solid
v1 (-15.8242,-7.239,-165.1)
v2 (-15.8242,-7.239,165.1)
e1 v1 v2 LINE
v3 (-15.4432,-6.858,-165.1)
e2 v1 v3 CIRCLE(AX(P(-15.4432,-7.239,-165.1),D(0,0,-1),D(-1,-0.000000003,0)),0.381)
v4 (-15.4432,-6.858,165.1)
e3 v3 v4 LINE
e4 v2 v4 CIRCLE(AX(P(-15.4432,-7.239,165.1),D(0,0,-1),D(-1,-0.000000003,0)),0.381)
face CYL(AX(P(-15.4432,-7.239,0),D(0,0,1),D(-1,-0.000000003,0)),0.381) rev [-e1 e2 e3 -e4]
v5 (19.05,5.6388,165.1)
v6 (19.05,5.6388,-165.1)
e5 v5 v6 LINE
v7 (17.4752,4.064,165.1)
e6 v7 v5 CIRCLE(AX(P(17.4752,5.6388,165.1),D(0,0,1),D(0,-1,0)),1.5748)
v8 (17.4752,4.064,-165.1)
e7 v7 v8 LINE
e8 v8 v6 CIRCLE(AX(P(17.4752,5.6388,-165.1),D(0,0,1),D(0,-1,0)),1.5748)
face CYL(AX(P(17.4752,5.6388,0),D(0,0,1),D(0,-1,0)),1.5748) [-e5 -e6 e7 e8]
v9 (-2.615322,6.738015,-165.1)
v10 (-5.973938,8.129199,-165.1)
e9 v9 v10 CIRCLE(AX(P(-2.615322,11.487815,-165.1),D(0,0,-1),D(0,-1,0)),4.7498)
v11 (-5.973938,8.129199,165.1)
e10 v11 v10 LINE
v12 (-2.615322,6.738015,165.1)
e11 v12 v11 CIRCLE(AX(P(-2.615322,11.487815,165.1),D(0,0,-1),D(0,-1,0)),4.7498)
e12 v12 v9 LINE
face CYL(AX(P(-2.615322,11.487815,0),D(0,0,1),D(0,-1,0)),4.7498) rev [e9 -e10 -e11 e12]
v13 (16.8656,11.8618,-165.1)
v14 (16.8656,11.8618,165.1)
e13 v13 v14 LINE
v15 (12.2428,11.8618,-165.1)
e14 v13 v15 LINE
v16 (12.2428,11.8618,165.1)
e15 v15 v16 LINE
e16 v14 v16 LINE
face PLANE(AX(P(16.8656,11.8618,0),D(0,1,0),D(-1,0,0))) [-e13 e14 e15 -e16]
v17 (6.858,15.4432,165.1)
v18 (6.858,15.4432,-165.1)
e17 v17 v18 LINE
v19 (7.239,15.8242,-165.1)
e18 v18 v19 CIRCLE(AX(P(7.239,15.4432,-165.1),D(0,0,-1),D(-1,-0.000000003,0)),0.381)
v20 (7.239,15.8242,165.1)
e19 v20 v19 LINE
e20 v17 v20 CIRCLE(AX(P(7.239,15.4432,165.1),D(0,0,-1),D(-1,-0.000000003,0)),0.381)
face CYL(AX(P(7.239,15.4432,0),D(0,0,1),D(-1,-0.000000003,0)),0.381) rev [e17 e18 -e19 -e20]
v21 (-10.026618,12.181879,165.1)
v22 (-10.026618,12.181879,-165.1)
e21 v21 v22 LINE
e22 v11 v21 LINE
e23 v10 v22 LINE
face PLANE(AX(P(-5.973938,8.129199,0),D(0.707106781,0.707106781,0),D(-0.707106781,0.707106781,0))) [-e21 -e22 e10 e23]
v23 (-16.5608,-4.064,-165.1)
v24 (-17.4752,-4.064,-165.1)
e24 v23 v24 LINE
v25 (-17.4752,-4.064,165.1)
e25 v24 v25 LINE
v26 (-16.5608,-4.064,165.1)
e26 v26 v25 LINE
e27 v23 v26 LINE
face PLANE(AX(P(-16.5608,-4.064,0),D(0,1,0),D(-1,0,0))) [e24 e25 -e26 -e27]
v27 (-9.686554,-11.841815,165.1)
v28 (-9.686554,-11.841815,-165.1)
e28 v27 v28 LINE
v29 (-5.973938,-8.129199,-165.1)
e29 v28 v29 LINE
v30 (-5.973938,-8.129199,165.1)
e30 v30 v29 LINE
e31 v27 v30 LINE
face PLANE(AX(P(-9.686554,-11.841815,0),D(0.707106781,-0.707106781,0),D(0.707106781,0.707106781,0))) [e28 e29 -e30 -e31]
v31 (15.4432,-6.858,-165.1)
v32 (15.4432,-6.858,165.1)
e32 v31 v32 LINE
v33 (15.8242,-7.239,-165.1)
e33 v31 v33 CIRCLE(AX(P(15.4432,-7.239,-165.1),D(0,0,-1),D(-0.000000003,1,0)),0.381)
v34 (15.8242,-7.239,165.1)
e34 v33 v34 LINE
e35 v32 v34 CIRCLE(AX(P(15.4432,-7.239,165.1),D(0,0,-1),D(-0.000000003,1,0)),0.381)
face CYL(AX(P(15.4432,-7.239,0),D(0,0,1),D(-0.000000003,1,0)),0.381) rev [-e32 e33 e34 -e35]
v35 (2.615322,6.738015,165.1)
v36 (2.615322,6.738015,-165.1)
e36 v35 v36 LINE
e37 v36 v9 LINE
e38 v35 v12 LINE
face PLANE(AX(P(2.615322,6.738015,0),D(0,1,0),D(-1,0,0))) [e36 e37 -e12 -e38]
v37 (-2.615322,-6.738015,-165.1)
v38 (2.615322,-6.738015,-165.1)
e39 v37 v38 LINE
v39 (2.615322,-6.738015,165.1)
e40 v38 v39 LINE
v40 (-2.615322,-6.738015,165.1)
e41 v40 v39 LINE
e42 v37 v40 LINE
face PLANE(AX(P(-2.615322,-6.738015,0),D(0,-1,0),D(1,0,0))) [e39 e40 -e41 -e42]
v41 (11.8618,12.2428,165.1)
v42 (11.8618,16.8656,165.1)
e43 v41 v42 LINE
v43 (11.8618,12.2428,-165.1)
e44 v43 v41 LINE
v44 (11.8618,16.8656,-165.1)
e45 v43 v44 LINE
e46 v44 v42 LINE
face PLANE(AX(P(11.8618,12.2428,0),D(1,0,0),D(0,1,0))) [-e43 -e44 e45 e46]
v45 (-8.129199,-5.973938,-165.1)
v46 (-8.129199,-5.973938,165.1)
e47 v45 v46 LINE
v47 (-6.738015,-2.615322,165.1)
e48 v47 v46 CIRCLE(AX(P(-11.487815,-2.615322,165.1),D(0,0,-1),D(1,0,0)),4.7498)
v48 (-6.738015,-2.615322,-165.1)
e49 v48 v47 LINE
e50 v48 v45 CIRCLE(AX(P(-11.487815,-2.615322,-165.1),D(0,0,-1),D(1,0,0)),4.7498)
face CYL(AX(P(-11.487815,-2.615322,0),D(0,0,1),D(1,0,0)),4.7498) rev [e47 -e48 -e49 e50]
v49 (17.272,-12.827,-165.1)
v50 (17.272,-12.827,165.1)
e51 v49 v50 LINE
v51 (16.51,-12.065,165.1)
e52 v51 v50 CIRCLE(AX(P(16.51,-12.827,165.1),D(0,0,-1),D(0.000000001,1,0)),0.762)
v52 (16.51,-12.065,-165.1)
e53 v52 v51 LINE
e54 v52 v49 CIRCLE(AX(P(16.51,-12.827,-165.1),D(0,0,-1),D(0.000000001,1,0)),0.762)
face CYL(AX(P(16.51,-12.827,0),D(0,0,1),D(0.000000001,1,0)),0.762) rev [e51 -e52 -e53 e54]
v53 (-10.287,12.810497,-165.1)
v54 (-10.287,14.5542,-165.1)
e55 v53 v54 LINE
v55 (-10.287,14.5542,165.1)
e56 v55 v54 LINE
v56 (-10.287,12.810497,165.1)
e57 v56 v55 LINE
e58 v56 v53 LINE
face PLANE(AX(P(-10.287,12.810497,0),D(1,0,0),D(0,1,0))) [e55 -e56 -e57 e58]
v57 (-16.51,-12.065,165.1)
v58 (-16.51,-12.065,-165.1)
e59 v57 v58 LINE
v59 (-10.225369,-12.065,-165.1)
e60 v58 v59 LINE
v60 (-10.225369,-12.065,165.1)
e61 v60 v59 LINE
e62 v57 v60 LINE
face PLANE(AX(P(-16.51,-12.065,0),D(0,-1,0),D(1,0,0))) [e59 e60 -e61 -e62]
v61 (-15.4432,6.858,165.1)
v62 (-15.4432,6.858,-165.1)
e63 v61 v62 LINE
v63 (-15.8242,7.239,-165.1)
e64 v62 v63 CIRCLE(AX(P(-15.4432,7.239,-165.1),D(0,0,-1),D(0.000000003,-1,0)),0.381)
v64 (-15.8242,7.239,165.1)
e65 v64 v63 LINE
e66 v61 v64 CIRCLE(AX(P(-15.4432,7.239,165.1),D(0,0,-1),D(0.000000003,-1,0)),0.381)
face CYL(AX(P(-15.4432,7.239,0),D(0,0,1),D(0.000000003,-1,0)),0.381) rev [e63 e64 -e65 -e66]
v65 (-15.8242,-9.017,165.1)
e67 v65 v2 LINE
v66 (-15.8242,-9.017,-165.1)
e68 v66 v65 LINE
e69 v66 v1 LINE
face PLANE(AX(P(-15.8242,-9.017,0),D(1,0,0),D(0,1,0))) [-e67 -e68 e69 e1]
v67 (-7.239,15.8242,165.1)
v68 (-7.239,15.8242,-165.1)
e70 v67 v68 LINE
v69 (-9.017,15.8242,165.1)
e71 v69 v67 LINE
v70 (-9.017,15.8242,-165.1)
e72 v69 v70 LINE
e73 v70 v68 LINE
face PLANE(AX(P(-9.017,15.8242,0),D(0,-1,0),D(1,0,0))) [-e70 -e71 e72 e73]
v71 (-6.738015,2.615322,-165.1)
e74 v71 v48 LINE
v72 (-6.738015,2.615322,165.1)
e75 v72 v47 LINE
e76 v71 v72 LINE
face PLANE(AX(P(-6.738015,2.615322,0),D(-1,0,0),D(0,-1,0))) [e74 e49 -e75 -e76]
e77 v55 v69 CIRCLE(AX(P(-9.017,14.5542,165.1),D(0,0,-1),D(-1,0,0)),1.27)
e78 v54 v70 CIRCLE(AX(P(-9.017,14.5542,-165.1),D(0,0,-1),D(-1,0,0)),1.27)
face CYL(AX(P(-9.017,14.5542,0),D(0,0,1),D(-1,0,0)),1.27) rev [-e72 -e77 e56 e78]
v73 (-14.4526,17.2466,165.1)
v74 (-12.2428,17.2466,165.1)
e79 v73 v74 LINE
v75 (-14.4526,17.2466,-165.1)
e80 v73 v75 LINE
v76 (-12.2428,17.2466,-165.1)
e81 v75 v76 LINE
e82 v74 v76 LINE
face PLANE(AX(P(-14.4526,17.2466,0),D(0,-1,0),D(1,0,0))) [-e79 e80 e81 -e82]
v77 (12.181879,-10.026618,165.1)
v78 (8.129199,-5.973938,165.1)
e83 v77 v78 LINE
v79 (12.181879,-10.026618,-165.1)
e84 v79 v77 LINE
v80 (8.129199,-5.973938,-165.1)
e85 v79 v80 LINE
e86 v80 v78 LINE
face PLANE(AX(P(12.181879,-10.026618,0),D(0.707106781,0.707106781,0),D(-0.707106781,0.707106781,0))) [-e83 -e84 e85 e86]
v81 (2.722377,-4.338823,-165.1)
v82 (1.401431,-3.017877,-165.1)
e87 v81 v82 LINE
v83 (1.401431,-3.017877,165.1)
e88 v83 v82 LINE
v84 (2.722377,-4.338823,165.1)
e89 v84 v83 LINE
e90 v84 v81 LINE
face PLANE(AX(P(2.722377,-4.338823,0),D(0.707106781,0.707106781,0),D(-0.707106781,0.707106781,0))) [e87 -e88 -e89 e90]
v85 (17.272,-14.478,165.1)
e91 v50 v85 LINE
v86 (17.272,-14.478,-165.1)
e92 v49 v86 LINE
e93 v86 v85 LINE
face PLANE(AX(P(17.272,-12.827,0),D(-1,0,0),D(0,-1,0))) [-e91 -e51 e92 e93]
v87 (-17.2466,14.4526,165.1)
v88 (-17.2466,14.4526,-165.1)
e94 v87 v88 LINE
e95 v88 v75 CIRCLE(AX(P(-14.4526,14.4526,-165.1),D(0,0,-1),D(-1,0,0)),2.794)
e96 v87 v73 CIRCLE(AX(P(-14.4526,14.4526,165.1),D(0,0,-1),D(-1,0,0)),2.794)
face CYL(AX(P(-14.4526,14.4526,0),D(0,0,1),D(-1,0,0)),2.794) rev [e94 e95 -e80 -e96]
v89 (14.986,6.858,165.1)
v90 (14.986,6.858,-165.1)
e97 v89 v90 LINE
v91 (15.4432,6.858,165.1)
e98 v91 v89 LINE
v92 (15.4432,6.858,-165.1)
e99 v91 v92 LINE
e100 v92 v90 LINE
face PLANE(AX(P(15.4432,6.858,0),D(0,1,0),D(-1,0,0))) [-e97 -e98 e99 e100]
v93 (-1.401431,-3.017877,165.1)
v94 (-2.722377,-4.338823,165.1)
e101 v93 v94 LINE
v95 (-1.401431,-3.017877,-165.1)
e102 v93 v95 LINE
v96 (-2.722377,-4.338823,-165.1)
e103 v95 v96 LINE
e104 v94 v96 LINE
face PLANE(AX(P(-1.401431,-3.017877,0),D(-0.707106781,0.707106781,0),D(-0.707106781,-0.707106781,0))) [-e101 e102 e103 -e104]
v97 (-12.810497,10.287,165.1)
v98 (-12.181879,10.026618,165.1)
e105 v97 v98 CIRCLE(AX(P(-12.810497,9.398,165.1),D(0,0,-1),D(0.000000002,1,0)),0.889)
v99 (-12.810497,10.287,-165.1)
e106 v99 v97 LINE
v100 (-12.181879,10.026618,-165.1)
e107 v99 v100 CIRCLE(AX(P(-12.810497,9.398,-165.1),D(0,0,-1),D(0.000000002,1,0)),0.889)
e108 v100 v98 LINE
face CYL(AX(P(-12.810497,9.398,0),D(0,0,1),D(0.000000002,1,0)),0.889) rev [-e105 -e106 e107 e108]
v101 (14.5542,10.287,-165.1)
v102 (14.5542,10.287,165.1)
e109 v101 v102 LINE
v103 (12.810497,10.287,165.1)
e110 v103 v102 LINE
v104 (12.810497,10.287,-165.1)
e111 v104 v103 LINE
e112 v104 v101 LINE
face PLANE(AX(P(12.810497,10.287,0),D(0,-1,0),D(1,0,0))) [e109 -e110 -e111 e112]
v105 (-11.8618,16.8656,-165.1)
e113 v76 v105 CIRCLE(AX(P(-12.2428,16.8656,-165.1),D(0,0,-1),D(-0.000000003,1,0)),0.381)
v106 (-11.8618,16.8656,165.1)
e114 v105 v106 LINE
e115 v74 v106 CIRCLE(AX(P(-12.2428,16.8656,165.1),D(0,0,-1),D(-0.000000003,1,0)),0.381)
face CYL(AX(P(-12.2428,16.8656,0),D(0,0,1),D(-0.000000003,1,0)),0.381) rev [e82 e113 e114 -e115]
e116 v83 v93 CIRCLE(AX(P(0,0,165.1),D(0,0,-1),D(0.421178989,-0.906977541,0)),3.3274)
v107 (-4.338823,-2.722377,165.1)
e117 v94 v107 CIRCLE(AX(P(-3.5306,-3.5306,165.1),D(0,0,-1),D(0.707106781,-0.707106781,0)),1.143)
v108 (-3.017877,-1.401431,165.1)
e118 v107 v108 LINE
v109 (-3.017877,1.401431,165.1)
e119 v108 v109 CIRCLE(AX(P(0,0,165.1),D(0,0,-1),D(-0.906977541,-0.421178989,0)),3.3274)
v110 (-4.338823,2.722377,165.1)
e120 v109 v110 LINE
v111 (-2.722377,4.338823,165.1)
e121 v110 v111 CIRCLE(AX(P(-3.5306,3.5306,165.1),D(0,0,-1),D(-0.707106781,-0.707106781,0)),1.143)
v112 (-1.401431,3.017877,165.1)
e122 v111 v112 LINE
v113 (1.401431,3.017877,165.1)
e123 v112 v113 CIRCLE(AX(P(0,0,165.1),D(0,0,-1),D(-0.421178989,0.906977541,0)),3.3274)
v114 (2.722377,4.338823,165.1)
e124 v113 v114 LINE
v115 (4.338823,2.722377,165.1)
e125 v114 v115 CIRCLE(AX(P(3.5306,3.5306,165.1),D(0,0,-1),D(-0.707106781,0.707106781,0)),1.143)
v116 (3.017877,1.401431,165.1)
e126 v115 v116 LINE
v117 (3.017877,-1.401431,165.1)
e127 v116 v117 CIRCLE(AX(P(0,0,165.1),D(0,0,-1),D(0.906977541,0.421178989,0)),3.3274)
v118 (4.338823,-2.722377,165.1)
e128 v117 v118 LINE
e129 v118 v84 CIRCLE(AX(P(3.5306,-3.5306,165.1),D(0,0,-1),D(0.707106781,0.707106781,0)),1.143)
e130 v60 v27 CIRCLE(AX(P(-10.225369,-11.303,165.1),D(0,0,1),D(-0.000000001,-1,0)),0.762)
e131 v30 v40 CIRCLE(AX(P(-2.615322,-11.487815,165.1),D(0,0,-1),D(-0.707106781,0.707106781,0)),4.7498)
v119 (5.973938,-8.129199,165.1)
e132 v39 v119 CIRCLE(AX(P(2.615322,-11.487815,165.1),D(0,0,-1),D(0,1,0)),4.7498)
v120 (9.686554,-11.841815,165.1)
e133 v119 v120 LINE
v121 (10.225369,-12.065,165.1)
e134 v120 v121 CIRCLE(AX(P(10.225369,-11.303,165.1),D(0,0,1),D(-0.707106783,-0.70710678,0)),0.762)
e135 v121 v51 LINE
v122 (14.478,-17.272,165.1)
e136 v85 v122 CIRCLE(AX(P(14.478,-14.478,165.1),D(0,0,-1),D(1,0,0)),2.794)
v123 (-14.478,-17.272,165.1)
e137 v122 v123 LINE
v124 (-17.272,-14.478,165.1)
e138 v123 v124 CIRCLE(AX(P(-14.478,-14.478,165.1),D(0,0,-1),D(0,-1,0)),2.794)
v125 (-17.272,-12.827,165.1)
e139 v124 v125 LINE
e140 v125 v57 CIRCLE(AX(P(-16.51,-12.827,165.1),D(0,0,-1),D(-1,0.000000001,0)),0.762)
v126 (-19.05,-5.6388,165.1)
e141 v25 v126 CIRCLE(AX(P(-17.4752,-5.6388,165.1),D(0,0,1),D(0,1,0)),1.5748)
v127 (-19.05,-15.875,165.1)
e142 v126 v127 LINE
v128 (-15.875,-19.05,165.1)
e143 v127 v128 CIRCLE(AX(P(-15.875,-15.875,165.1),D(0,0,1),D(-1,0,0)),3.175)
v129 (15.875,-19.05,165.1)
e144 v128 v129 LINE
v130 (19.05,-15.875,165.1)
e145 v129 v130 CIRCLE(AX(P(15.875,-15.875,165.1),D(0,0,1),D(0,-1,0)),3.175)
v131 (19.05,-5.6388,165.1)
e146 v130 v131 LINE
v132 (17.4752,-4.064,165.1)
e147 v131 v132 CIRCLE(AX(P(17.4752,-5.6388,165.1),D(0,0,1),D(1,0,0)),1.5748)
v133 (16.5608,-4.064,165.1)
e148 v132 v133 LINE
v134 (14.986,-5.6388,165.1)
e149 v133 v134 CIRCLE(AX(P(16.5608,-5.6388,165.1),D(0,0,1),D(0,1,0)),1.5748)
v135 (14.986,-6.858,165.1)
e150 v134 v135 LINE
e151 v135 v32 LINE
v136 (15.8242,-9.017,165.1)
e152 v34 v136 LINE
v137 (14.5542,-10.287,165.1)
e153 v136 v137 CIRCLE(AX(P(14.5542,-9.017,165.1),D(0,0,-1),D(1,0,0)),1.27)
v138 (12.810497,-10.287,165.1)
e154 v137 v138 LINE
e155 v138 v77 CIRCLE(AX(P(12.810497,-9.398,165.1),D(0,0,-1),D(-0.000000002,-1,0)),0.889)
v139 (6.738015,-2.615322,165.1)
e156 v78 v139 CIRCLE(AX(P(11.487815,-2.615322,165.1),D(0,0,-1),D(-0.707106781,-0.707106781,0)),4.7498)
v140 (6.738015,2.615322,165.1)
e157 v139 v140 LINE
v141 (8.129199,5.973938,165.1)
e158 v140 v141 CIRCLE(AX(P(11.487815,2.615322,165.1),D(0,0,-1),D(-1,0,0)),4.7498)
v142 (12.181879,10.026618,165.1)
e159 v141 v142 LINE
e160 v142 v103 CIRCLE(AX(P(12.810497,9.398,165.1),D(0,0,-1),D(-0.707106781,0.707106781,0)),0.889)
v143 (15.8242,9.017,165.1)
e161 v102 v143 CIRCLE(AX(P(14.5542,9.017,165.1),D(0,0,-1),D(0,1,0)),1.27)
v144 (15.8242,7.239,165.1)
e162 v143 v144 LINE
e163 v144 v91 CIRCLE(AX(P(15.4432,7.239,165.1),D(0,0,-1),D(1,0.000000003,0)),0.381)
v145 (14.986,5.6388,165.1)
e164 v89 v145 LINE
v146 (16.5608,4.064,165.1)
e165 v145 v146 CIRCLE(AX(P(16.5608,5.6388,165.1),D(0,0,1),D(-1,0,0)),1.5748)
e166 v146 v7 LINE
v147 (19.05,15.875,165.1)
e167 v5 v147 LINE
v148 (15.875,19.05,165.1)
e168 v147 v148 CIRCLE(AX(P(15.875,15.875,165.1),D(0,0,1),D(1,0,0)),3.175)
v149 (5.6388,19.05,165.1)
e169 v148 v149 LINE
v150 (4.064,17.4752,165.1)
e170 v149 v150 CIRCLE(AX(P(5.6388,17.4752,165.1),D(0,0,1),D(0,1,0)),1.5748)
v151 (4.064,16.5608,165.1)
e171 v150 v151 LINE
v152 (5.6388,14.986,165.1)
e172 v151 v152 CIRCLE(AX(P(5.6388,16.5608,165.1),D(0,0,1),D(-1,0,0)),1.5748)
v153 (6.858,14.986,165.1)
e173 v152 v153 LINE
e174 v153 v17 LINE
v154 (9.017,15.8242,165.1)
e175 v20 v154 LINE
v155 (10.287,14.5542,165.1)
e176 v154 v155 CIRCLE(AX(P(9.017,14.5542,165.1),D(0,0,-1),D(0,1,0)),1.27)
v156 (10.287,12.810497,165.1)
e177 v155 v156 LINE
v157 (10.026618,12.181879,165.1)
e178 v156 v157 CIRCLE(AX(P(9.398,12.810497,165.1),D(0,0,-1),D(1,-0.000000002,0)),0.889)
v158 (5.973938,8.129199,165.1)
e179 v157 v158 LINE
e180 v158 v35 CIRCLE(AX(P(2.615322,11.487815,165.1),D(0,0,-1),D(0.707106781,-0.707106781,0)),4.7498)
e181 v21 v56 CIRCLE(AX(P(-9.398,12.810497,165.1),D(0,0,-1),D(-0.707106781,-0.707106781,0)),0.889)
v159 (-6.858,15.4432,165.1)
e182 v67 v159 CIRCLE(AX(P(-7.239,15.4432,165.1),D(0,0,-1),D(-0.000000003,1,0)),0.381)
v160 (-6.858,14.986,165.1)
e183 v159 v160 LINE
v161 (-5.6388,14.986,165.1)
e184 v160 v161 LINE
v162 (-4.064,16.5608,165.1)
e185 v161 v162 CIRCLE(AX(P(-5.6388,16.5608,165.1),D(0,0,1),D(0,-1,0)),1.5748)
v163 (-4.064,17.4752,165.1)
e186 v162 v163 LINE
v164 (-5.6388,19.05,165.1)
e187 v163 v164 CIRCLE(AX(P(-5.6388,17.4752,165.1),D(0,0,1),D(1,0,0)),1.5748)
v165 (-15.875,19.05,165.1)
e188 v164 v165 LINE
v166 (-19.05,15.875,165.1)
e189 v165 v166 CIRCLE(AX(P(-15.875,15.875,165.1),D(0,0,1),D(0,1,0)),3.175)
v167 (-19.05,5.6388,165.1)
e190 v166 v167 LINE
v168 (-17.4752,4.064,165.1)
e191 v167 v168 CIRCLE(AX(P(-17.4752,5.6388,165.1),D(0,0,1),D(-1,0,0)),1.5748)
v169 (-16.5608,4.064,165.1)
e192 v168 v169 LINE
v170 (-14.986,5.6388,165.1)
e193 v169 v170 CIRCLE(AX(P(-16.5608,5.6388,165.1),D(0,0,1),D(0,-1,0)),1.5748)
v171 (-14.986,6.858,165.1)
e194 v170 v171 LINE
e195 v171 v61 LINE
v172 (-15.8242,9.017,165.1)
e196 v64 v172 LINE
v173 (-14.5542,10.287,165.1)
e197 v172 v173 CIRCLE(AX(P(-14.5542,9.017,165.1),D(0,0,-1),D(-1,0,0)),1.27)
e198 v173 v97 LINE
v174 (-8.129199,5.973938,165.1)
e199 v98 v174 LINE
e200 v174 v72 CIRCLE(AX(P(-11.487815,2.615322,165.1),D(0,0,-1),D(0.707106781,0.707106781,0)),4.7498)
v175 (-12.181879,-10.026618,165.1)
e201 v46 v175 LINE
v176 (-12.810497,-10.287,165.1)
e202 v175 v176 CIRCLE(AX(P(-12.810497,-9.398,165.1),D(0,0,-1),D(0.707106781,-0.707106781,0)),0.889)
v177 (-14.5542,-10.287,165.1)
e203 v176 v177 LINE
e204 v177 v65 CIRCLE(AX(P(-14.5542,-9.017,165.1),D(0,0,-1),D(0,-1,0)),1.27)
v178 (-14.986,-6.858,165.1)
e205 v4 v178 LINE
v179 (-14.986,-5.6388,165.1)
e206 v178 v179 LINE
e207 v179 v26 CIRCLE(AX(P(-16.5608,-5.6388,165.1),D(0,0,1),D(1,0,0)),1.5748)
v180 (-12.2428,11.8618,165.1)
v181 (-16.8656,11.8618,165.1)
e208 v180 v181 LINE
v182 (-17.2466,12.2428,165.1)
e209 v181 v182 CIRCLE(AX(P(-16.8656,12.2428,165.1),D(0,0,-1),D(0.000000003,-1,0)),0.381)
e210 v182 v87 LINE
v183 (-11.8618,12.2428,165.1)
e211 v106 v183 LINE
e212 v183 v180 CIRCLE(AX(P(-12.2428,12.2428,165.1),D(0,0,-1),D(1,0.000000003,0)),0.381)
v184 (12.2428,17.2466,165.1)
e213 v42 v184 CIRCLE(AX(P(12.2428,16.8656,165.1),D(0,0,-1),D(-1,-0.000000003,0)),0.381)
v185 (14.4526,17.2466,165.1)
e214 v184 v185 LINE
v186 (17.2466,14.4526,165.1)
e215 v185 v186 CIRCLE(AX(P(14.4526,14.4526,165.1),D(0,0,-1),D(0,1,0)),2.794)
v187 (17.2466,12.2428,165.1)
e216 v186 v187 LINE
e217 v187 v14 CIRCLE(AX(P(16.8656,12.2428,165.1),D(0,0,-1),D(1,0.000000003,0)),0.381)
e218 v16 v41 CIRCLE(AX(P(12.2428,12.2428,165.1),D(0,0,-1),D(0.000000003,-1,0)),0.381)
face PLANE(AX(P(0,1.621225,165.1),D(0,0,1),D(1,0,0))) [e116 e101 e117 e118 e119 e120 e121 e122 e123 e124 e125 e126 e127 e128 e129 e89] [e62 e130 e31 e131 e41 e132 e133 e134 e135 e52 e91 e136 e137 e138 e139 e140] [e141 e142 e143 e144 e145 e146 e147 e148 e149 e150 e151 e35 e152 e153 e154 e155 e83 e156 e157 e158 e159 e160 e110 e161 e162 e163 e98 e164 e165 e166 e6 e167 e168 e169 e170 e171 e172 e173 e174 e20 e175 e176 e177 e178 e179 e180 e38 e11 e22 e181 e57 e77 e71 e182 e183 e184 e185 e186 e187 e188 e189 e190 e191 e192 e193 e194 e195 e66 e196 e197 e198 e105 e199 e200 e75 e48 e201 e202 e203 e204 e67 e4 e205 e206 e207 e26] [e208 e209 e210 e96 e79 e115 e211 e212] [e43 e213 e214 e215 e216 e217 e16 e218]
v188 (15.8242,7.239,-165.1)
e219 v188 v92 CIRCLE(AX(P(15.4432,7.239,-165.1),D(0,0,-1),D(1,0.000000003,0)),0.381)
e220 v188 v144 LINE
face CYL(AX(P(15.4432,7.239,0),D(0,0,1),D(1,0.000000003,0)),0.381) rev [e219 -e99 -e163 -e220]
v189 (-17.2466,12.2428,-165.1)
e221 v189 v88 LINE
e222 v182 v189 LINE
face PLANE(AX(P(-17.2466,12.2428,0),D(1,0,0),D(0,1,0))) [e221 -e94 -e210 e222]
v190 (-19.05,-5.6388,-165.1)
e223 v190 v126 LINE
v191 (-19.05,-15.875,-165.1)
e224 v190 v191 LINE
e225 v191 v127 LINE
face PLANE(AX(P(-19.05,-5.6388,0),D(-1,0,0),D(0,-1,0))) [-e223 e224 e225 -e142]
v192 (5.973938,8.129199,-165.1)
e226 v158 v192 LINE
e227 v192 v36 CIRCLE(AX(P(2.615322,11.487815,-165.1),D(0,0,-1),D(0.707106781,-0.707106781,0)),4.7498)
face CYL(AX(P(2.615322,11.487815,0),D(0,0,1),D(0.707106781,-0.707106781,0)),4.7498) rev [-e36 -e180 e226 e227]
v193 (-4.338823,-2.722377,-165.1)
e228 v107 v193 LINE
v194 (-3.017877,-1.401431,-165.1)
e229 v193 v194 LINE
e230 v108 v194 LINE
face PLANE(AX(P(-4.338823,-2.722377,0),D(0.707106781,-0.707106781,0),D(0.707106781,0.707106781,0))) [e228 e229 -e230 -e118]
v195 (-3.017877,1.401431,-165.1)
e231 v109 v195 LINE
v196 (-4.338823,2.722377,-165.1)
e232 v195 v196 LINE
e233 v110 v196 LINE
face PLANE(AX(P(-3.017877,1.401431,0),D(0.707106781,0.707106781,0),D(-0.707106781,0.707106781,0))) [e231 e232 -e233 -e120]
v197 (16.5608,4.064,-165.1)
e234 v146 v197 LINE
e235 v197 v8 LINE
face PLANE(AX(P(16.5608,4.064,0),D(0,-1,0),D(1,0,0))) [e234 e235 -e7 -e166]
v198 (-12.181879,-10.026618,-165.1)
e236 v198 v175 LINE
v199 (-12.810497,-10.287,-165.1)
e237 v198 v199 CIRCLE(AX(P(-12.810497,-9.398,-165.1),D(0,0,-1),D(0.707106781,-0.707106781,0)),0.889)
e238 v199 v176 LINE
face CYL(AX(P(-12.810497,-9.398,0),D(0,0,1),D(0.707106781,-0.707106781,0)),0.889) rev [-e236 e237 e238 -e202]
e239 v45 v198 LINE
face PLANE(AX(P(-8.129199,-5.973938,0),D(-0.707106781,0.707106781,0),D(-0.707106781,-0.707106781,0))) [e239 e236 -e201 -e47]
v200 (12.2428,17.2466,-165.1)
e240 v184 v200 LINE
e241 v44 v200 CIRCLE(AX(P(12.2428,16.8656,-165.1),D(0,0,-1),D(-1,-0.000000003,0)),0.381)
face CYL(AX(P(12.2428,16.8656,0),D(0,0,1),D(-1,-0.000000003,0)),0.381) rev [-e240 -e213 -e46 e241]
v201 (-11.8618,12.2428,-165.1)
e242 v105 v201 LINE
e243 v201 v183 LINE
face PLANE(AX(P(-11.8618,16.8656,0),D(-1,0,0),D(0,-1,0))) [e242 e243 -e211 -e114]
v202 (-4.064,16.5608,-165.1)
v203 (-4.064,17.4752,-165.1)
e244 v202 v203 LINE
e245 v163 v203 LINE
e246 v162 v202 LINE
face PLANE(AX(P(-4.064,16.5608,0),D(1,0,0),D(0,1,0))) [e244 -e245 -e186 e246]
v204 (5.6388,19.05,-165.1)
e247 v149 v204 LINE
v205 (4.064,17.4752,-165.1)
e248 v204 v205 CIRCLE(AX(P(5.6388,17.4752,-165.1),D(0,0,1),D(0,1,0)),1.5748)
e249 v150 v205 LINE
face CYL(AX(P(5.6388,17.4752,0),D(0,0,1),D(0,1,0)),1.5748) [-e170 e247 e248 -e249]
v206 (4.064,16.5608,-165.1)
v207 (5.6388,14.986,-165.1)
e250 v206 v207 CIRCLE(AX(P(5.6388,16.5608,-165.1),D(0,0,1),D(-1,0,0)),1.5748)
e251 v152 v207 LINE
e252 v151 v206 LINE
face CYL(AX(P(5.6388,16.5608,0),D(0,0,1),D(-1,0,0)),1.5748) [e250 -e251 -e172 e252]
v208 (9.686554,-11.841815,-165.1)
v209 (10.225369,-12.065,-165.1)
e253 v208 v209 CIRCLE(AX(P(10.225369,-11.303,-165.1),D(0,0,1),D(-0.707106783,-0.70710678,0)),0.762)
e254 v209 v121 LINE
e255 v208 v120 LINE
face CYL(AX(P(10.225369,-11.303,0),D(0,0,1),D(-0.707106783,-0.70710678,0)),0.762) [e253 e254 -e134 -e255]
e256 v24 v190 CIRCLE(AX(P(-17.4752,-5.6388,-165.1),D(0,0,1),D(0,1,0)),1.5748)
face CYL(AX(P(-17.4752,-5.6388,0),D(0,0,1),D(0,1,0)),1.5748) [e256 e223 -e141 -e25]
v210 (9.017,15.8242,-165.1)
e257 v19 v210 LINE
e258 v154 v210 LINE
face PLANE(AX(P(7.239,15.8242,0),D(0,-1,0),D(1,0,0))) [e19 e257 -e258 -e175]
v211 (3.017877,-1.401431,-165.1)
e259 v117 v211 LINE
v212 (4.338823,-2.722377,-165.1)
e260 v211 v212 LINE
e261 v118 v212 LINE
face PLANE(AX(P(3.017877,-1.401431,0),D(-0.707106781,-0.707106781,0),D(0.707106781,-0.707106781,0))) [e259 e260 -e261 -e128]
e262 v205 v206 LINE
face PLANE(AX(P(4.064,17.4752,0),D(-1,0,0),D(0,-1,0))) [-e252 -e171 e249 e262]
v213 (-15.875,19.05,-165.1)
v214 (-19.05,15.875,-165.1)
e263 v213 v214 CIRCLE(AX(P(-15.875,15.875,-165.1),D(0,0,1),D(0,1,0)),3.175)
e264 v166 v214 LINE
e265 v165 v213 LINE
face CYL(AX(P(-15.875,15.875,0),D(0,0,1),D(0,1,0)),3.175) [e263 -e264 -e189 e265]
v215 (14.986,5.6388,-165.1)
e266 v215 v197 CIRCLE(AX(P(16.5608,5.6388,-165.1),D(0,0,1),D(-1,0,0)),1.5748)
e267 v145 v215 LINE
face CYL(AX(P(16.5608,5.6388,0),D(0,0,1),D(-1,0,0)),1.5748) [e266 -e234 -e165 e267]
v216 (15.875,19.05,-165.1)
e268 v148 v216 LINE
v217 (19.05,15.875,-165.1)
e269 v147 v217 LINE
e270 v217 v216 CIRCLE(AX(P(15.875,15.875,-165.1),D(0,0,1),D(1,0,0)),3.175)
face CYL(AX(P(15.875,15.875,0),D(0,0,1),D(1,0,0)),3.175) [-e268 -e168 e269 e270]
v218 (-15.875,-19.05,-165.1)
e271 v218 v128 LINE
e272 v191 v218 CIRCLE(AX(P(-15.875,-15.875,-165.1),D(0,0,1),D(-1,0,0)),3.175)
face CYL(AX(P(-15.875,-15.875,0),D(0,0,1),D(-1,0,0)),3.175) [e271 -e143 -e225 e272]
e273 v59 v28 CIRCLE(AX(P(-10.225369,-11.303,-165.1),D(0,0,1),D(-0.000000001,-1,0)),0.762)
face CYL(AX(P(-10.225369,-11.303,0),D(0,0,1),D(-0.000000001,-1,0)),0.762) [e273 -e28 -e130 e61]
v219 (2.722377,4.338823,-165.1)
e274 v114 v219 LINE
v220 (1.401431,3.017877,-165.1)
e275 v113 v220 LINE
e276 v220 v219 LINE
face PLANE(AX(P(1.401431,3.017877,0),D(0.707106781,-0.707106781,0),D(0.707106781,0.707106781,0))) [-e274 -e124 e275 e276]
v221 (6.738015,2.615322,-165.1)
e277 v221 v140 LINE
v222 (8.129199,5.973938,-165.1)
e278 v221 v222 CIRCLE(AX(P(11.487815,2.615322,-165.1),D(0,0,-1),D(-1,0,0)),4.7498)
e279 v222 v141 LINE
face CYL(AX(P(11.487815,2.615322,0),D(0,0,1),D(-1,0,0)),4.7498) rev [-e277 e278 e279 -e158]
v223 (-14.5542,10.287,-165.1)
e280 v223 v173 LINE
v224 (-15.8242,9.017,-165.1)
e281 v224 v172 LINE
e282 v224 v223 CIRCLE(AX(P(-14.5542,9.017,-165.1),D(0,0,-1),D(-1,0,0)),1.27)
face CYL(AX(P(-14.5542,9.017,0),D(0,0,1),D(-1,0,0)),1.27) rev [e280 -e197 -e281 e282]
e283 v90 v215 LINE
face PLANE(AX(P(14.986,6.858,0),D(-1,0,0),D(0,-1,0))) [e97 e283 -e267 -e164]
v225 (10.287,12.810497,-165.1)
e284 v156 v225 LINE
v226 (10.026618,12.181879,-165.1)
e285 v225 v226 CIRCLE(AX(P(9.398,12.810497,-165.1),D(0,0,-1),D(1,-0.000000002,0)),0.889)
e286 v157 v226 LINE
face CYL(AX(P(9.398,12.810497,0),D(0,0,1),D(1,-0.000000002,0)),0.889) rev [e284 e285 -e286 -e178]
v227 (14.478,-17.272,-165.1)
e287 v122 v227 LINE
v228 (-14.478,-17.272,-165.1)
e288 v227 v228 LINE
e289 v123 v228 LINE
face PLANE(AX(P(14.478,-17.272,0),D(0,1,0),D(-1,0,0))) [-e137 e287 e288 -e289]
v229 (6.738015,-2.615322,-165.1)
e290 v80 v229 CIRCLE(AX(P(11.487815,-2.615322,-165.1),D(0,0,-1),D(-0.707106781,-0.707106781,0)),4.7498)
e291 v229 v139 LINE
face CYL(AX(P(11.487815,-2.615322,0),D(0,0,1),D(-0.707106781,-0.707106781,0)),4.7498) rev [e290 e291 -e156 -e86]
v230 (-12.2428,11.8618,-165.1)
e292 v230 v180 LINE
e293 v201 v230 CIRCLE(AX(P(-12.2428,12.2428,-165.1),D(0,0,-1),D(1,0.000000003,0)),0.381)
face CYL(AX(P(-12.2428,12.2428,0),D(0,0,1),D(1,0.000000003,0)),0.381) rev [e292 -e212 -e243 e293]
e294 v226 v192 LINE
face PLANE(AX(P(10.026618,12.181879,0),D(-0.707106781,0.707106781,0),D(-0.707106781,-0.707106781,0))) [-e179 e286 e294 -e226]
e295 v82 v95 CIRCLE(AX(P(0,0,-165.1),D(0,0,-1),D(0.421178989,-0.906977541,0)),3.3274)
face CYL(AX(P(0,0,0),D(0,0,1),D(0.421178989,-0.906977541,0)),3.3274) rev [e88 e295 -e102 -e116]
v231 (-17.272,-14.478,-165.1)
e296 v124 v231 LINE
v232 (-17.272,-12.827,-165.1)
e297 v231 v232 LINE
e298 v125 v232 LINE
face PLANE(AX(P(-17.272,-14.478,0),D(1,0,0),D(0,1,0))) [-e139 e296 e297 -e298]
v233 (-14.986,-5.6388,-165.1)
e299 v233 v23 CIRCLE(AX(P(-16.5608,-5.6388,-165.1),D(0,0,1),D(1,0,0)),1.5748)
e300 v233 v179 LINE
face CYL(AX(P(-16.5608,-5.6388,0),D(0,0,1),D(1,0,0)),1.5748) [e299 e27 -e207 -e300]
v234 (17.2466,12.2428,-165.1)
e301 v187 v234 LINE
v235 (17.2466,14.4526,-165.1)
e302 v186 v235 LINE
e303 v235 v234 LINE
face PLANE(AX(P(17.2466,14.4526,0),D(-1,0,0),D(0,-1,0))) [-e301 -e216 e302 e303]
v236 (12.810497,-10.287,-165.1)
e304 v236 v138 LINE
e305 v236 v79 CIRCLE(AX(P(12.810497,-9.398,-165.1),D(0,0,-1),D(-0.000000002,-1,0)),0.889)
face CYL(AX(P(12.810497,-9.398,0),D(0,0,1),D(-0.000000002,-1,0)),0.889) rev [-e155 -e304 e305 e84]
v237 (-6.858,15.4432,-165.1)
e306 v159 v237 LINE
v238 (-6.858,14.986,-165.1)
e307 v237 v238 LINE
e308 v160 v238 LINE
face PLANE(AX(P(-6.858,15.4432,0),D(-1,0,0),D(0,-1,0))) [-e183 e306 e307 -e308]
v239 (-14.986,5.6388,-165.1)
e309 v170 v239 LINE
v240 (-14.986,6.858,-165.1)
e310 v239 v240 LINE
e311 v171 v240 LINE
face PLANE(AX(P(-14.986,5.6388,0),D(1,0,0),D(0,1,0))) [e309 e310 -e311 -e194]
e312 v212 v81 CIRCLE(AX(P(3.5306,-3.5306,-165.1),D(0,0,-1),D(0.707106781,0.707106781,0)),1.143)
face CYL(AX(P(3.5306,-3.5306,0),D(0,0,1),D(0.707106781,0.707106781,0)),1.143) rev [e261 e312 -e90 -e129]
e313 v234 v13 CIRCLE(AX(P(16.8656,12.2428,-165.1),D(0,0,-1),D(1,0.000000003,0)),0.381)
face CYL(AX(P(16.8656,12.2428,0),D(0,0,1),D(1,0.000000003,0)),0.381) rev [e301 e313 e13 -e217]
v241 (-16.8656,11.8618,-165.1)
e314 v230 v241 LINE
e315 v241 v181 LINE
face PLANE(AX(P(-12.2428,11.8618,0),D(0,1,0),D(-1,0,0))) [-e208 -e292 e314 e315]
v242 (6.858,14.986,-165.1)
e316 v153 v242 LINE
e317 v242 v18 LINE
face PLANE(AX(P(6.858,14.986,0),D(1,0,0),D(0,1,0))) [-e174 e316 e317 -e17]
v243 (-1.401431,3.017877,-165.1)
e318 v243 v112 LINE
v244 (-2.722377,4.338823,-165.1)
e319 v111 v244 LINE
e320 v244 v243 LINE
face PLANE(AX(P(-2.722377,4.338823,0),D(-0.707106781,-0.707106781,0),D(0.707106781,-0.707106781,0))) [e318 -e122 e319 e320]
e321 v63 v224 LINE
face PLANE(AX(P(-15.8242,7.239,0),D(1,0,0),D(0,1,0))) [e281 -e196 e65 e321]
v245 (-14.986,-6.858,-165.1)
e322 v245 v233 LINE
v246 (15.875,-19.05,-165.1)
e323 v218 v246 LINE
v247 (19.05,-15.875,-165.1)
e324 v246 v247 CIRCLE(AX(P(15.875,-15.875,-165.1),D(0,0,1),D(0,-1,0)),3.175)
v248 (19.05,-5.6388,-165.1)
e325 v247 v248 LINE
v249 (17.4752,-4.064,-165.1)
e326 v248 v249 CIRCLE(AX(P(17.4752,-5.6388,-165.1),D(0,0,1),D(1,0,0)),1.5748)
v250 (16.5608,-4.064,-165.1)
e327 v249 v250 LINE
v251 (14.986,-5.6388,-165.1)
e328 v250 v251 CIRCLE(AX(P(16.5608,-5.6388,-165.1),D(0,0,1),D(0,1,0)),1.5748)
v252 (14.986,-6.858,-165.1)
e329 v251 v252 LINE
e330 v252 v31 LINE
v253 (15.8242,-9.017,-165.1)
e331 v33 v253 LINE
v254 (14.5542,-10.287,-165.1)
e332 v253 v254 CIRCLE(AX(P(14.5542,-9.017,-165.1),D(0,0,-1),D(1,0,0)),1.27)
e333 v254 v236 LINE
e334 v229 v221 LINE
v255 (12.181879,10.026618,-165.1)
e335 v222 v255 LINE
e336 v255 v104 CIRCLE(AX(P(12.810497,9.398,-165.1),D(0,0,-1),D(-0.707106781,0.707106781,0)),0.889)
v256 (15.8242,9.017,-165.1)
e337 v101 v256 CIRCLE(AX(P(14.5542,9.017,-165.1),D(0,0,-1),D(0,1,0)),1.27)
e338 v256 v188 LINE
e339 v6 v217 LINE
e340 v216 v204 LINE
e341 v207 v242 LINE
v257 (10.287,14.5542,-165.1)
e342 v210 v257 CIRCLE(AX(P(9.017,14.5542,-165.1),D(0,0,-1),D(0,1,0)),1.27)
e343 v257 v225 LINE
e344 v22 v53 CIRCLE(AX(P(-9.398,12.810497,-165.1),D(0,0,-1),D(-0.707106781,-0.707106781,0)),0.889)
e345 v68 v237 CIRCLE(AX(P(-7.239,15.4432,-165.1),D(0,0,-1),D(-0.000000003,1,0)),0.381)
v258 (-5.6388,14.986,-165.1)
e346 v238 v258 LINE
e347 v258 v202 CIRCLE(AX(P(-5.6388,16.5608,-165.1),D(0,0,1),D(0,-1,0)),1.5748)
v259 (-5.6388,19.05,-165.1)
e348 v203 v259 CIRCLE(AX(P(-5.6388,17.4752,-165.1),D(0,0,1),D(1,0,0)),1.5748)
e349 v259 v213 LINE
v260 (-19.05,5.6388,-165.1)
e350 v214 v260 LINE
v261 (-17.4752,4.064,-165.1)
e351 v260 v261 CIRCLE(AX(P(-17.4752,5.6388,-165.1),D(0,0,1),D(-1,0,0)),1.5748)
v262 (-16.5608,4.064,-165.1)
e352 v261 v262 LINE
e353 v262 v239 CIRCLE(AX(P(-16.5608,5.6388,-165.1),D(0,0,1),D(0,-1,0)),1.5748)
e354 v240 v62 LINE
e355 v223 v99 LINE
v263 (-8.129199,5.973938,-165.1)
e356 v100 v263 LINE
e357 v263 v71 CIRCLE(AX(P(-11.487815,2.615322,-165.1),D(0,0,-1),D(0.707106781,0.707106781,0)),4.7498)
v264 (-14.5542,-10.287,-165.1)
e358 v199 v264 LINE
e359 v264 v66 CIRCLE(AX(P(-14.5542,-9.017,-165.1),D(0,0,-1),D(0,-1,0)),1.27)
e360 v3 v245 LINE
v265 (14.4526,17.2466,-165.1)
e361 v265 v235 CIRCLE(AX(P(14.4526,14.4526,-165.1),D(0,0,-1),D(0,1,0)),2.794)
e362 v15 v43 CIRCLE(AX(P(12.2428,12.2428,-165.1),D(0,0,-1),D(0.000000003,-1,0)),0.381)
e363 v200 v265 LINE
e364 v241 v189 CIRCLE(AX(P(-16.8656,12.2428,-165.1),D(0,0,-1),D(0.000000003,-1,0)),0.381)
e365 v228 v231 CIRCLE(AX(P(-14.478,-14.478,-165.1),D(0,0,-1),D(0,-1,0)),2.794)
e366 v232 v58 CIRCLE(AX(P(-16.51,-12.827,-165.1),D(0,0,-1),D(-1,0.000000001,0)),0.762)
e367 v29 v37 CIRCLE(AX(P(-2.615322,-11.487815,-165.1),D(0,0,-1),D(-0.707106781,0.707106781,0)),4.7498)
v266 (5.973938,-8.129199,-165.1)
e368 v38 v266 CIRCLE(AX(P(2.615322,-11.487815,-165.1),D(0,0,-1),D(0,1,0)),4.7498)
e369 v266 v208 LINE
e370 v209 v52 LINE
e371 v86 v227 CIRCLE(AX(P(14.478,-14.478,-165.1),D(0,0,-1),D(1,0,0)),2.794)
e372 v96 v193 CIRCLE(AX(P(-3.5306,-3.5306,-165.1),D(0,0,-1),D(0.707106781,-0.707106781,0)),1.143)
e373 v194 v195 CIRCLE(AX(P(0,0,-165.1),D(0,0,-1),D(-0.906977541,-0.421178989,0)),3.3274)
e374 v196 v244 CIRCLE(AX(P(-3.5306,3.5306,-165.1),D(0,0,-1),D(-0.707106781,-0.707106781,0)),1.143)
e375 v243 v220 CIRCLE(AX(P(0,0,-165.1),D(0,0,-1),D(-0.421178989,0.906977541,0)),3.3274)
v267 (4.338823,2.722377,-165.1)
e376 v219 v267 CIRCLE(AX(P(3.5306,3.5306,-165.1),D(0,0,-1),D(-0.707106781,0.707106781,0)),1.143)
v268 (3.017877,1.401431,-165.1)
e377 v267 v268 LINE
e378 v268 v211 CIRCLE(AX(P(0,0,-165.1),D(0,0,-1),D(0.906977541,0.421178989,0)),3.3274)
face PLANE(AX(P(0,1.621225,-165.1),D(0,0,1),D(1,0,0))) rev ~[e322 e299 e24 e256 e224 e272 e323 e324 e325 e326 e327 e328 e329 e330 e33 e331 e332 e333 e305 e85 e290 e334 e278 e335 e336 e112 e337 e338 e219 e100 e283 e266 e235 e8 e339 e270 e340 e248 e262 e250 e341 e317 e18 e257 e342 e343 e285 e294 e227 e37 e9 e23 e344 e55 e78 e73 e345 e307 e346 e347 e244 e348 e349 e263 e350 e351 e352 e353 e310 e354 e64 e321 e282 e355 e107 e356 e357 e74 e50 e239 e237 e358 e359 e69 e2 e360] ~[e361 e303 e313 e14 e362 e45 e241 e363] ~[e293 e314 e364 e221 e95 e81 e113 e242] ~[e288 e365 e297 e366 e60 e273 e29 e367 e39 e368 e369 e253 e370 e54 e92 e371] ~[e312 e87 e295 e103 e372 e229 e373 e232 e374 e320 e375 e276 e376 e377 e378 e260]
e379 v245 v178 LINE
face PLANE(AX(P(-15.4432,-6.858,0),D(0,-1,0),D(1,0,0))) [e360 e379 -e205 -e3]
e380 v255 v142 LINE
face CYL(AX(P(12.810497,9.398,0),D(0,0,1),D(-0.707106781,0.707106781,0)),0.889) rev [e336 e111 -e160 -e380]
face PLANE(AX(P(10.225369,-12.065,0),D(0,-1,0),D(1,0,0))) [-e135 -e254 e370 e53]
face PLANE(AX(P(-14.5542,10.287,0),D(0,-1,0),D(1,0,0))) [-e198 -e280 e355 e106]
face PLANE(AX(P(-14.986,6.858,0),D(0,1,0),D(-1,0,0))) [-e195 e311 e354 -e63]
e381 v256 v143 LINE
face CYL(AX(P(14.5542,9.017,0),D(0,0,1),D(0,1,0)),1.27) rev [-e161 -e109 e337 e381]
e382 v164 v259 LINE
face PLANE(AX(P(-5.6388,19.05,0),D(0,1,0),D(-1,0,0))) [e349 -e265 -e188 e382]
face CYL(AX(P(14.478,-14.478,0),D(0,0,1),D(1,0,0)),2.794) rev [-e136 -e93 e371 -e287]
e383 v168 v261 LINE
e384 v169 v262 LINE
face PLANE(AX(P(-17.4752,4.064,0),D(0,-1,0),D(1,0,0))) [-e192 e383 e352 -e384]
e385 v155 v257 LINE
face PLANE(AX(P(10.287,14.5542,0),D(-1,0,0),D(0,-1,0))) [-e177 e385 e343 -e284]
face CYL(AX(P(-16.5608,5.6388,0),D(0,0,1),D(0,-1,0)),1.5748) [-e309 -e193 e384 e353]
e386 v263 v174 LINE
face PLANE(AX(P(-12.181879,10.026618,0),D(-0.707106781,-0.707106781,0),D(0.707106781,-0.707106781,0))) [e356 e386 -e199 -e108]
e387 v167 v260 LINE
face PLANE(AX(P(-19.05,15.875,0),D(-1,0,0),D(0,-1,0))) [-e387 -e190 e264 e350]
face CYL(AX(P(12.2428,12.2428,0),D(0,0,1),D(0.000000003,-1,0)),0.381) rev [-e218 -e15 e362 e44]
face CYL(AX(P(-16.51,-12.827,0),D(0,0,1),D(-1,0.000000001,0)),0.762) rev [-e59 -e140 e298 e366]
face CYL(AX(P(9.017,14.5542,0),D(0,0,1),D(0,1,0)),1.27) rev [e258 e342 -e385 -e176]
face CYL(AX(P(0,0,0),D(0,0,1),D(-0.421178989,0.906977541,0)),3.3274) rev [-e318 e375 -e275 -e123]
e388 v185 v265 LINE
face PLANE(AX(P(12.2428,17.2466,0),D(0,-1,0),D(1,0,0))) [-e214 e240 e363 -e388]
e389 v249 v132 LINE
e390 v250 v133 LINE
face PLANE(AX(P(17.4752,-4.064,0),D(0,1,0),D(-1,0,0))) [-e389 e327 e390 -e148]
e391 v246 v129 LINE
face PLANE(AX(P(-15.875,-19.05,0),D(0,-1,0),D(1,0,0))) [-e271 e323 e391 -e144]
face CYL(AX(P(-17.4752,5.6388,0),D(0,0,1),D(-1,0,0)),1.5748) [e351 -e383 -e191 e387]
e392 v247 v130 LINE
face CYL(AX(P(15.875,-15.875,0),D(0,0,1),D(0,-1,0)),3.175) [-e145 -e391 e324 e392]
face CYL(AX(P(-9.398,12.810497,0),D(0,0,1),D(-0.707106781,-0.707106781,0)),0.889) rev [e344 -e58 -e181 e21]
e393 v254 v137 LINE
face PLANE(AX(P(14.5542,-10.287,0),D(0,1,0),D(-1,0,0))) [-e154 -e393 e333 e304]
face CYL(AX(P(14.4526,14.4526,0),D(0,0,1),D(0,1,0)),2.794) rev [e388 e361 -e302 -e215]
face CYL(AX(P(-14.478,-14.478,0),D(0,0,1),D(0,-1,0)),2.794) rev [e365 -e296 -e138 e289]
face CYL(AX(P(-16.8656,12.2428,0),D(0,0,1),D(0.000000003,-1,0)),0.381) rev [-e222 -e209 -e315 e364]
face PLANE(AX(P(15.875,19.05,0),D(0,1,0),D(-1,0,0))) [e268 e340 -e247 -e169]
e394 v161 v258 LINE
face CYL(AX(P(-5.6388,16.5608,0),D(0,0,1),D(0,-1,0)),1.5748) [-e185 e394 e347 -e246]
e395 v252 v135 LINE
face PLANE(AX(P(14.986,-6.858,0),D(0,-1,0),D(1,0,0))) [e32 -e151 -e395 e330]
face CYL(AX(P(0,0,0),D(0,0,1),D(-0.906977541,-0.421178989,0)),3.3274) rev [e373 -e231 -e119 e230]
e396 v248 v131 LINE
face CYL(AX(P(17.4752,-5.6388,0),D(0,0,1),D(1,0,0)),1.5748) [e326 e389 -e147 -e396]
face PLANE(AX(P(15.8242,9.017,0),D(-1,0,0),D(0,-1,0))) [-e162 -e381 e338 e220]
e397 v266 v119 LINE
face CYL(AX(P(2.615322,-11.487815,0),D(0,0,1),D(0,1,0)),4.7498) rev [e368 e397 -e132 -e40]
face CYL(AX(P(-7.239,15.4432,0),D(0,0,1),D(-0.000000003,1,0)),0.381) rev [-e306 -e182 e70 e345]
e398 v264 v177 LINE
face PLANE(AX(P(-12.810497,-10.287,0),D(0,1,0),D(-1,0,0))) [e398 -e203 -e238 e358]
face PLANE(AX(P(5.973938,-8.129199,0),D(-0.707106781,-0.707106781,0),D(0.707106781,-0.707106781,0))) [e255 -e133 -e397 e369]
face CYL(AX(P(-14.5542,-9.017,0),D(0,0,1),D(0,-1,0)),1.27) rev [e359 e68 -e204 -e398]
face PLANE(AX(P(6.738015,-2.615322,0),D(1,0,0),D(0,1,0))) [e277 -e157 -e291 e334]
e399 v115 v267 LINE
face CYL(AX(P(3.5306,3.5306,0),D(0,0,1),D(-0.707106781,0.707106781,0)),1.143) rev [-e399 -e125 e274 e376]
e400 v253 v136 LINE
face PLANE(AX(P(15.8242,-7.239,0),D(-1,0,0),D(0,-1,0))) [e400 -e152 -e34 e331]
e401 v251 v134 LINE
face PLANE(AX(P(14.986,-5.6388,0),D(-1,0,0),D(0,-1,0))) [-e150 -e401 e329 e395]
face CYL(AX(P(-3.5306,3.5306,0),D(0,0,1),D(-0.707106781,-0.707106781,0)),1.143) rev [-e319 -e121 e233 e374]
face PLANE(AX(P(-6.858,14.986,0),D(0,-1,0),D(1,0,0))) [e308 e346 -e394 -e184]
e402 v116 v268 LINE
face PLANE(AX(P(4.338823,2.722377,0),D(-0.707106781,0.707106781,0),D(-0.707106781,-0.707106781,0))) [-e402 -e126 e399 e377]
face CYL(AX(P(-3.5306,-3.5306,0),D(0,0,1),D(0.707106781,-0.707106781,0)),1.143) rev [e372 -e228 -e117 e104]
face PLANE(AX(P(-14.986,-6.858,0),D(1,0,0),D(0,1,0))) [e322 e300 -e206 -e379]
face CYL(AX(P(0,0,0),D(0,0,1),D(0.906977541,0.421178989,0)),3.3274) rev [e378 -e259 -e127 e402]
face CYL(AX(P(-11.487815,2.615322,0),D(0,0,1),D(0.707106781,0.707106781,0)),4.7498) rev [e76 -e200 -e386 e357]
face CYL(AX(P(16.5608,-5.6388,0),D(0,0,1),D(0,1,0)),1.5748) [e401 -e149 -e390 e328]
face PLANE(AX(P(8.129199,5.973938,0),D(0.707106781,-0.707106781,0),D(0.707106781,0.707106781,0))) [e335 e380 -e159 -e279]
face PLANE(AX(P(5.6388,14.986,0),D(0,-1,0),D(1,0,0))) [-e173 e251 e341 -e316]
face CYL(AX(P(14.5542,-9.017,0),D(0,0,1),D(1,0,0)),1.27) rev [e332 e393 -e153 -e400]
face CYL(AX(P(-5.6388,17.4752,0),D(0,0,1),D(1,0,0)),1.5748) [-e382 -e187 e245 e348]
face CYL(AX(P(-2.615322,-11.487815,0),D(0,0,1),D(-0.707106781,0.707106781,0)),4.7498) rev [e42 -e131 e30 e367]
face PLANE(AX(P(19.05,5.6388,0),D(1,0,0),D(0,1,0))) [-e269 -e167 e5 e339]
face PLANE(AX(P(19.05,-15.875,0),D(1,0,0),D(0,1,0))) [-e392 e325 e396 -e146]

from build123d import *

# Parameters (mm, degrees)
EXTRUDE1_DEPTH     = 165.1
F_7060_LEFT_D      = 6.6548
F_7060_LEFT_DEPTH  = 20.1168
F_7060_LEFT_TIP    = 1.999303624
F_7060_RIGHT_D     = 6.6548
F_7060_RIGHT_DEPTH = 20.1168
F_7060_RIGHT_TIP   = 1.999303624


with BuildPart() as part:
    # Sketch1 → Extrude1 (new, symmetric)
    with BuildSketch(Plane.XY):
        with BuildLine():
            Line((-15.8242, 7.239), (-15.8242, 9.017))
            ThreePointArc((-15.8242, 9.017), (-15.452225612, 9.915025612), (-14.5542, 10.287))
            Line((-14.5542, 10.287), (-12.810497326, 10.287))
            ThreePointArc((-12.810497326, 10.287), (-12.470291755, 10.219328904), (-12.181879398, 10.026617928))
            Line((-12.181879398, 10.026617928), (-8.129198975, 5.973937506))
            ThreePointArc((-8.129198975, 5.973937506), (-7.09957176, 4.432991483), (-6.738014764, 2.615321716))
            Line((-6.738014764, 2.615321716), (-6.738014764, -2.615321716))
            ThreePointArc((-6.738014764, -2.615321716), (-7.09957176, -4.432991483), (-8.129198975, -5.973937506))
            Line((-8.129198975, -5.973937506), (-12.181879398, -10.026617928))
            ThreePointArc((-12.181879398, -10.026617928), (-12.470291755, -10.219328904), (-12.810497326, -10.287))
            Line((-12.810497326, -10.287), (-14.5542, -10.287))
            ThreePointArc((-14.5542, -10.287), (-15.452225612, -9.915025612), (-15.8242, -9.017))
            Line((-15.8242, -9.017), (-15.8242, -7.239))
            ThreePointArc((-15.8242, -7.239), (-15.712607684, -6.969592316), (-15.4432, -6.858))
            Line((-15.4432, -6.858), (-14.986, -6.858))
            Line((-14.986, -6.858), (-14.986, -5.6388))
            ThreePointArc((-14.986, -5.6388), (-15.447248241, -4.525248241), (-16.5608, -4.064))
            Line((-16.5608, -4.064), (-17.4752, -4.064))
            ThreePointArc((-17.4752, -4.064), (-18.588751759, -4.525248241), (-19.05, -5.6388))
            Line((-19.05, -5.6388), (-19.05, -15.875))
            ThreePointArc((-19.05, -15.875), (-18.12006403, -18.12006403), (-15.875, -19.05))
            Line((-15.875, -19.05), (15.875, -19.05))
            ThreePointArc((15.875, -19.05), (18.12006403, -18.12006403), (19.05, -15.875))
            Line((19.05, -15.875), (19.05, -5.6388))
            ThreePointArc((19.05, -5.6388), (18.588751759, -4.525248241), (17.4752, -4.064))
            Line((17.4752, -4.064), (16.5608, -4.064))
            ThreePointArc((16.5608, -4.064), (15.447248241, -4.525248241), (14.986, -5.6388))
            Line((14.986, -5.6388), (14.986, -6.858))
            Line((14.986, -6.858), (15.4432, -6.858))
            ThreePointArc((15.4432, -6.858), (15.712607684, -6.969592316), (15.8242, -7.239))
            Line((15.8242, -7.239), (15.8242, -9.017))
            ThreePointArc((15.8242, -9.017), (15.452225612, -9.915025612), (14.5542, -10.287))
            Line((14.5542, -10.287), (12.810497326, -10.287))
            ThreePointArc((12.810497326, -10.287), (12.470291755, -10.219328904), (12.181879398, -10.026617928))
            Line((12.181879398, -10.026617928), (8.129198975, -5.973937506))
            ThreePointArc((8.129198975, -5.973937506), (7.09957176, -4.432991483), (6.738014764, -2.615321716))
            Line((6.738014764, -2.615321716), (6.738014764, 2.615321716))
            ThreePointArc((6.738014764, 2.615321716), (7.09957176, 4.432991483), (8.129198975, 5.973937506))
            Line((8.129198975, 5.973937506), (12.181879398, 10.026617928))
            ThreePointArc((12.181879398, 10.026617928), (12.470291755, 10.219328904), (12.810497326, 10.287))
            Line((12.810497326, 10.287), (14.5542, 10.287))
            ThreePointArc((14.5542, 10.287), (15.452225612, 9.915025612), (15.8242, 9.017))
            Line((15.8242, 9.017), (15.8242, 7.239))
            ThreePointArc((15.8242, 7.239), (15.712607684, 6.969592316), (15.4432, 6.858))
            Line((15.4432, 6.858), (14.986, 6.858))
            Line((14.986, 6.858), (14.986, 5.6388))
            ThreePointArc((14.986, 5.6388), (15.447248241, 4.525248241), (16.5608, 4.064))
            Line((16.5608, 4.064), (17.4752, 4.064))
            ThreePointArc((17.4752, 4.064), (18.588751759, 4.525248241), (19.05, 5.6388))
            Line((19.05, 5.6388), (19.05, 15.875))
            ThreePointArc((19.05, 15.875), (18.12006403, 18.12006403), (15.875, 19.05))
            Line((15.875, 19.05), (5.6388, 19.05))
            ThreePointArc((5.6388, 19.05), (4.525248241, 18.588751759), (4.064, 17.4752))
            Line((4.064, 17.4752), (4.064, 16.5608))
            ThreePointArc((4.064, 16.5608), (4.525248241, 15.447248241), (5.6388, 14.986))
            Line((5.6388, 14.986), (6.858, 14.986))
            Line((6.858, 14.986), (6.858, 15.4432))
            ThreePointArc((6.858, 15.4432), (6.969592316, 15.712607684), (7.239, 15.8242))
            Line((7.239, 15.8242), (9.017, 15.8242))
            ThreePointArc((9.017, 15.8242), (9.915025612, 15.452225612), (10.287, 14.5542))
            Line((10.287, 14.5542), (10.287, 12.810497326))
            ThreePointArc((10.287, 12.810497326), (10.219328904, 12.470291755), (10.026617928, 12.181879398))
            Line((10.026617928, 12.181879398), (5.973937506, 8.129198975))
            ThreePointArc((5.973937506, 8.129198975), (4.432991483, 7.09957176), (2.615321716, 6.738014764))
            Line((2.615321716, 6.738014764), (-2.615321716, 6.738014764))
            ThreePointArc((-2.615321716, 6.738014764), (-4.432991483, 7.09957176), (-5.973937506, 8.129198975))
            Line((-5.973937506, 8.129198975), (-10.026617928, 12.181879398))
            ThreePointArc((-10.026617928, 12.181879398), (-10.219328904, 12.470291755), (-10.287, 12.810497326))
            Line((-10.287, 12.810497326), (-10.287, 14.5542))
            ThreePointArc((-10.287, 14.5542), (-9.915025612, 15.452225612), (-9.017, 15.8242))
            Line((-9.017, 15.8242), (-7.239, 15.8242))
            ThreePointArc((-7.239, 15.8242), (-6.969592316, 15.712607684), (-6.858, 15.4432))
            Line((-6.858, 15.4432), (-6.858, 14.986))
            Line((-6.858, 14.986), (-5.6388, 14.986))
            ThreePointArc((-5.6388, 14.986), (-4.525248241, 15.447248241), (-4.064, 16.5608))
            Line((-4.064, 16.5608), (-4.064, 17.4752))
            ThreePointArc((-4.064, 17.4752), (-4.525248241, 18.588751759), (-5.6388, 19.05))
            Line((-5.6388, 19.05), (-15.875, 19.05))
            ThreePointArc((-15.875, 19.05), (-18.12006403, 18.12006403), (-19.05, 15.875))
            Line((-19.05, 15.875), (-19.05, 5.6388))
            ThreePointArc((-19.05, 5.6388), (-18.588751759, 4.525248241), (-17.4752, 4.064))
            Line((-17.4752, 4.064), (-16.5608, 4.064))
            ThreePointArc((-16.5608, 4.064), (-15.447248241, 4.525248241), (-14.986, 5.6388))
            Line((-14.986, 5.6388), (-14.986, 6.858))
            Line((-14.986, 6.858), (-15.4432, 6.858))
            ThreePointArc((-15.4432, 6.858), (-15.712607684, 6.969592316), (-15.8242, 7.239))
        make_face()
        with BuildLine():
            Line((-2.615321716, -6.738014764), (2.615321716, -6.738014764))
            ThreePointArc((2.615321716, -6.738014764), (4.432991483, -7.09957176), (5.973937506, -8.129198975))
            Line((5.973937506, -8.129198975), (9.686553898, -11.841815367))
            ThreePointArc((9.686553898, -11.841815367), (9.93376449, -12.006996204), (10.225369265, -12.065))
            Line((10.225369265, -12.065), (16.51, -12.065))
            ThreePointArc((16.51, -12.065), (17.048815367, -12.288184633), (17.272, -12.827))
            Line((17.272, -12.827), (17.272, -14.478))
            ThreePointArc((17.272, -14.478), (16.453656347, -16.453656347), (14.478, -17.272))
            Line((14.478, -17.272), (-14.478, -17.272))
            ThreePointArc((-14.478, -17.272), (-16.453656347, -16.453656347), (-17.272, -14.478))
            Line((-17.272, -14.478), (-17.272, -12.827))
            ThreePointArc((-17.272, -12.827), (-17.048815367, -12.288184633), (-16.51, -12.065))
            Line((-16.51, -12.065), (-10.225369265, -12.065))
            ThreePointArc((-10.225369265, -12.065), (-9.93376449, -12.006996204), (-9.686553898, -11.841815367))
            Line((-9.686553898, -11.841815367), (-5.973937506, -8.129198975))
            ThreePointArc((-5.973937506, -8.129198975), (-4.432991483, -7.09957176), (-2.615321716, -6.738014764))
        make_face(mode=Mode.SUBTRACT)
        with BuildLine():
            Line((16.8656, 11.8618), (12.2428, 11.8618))
            ThreePointArc((12.2428, 11.8618), (11.973392316, 11.973392316), (11.8618, 12.2428))
            Line((11.8618, 12.2428), (11.8618, 16.8656))
            ThreePointArc((11.8618, 16.8656), (11.973392316, 17.135007684), (12.2428, 17.2466))
            Line((12.2428, 17.2466), (14.4526, 17.2466))
            ThreePointArc((14.4526, 17.2466), (16.428256347, 16.428256347), (17.2466, 14.4526))
            Line((17.2466, 14.4526), (17.2466, 12.2428))
            ThreePointArc((17.2466, 12.2428), (17.135007684, 11.973392316), (16.8656, 11.8618))
        make_face(mode=Mode.SUBTRACT)
        with BuildLine():
            Line((-11.8618, 16.8656), (-11.8618, 12.2428))
            ThreePointArc((-11.8618, 12.2428), (-11.973392316, 11.973392316), (-12.2428, 11.8618))
            Line((-12.2428, 11.8618), (-16.8656, 11.8618))
            ThreePointArc((-16.8656, 11.8618), (-17.135007684, 11.973392316), (-17.2466, 12.2428))
            Line((-17.2466, 12.2428), (-17.2466, 14.4526))
            ThreePointArc((-17.2466, 14.4526), (-16.428256347, 16.428256347), (-14.4526, 17.2466))
            Line((-14.4526, 17.2466), (-12.2428, 17.2466))
            ThreePointArc((-12.2428, 17.2466), (-11.973392316, 17.135007684), (-11.8618, 16.8656))
        make_face(mode=Mode.SUBTRACT)
        with BuildLine():
            Line((1.401430967, 3.017877069), (2.722376949, 4.338823051))
            ThreePointArc((2.722376949, 4.338823051), (4.338823051, 4.338823051), (4.338823051, 2.722376949))
            Line((4.338823051, 2.722376949), (3.017877069, 1.401430967))
            ThreePointArc((3.017877069, 1.401430967), (3.3274, 0), (3.017877069, -1.401430967))
            Line((3.017877069, -1.401430967), (4.338823051, -2.722376949))
            ThreePointArc((4.338823051, -2.722376949), (4.338823051, -4.338823051), (2.722376949, -4.338823051))
            Line((2.722376949, -4.338823051), (1.401430967, -3.017877069))
            ThreePointArc((1.401430967, -3.017877069), (0, -3.3274), (-1.401430967, -3.017877069))
            Line((-1.401430967, -3.017877069), (-2.722376949, -4.338823051))
            ThreePointArc((-2.722376949, -4.338823051), (-4.338823051, -4.338823051), (-4.338823051, -2.722376949))
            Line((-4.338823051, -2.722376949), (-3.017877069, -1.401430967))
            ThreePointArc((-3.017877069, -1.401430967), (-3.3274, 0), (-3.017877069, 1.401430967))
            Line((-3.017877069, 1.401430967), (-4.338823051, 2.722376949))
            ThreePointArc((-4.338823051, 2.722376949), (-4.338823051, 4.338823051), (-2.722376949, 4.338823051))
            Line((-2.722376949, 4.338823051), (-1.401430967, 3.017877069))
            ThreePointArc((-1.401430967, 3.017877069), (0, 3.3274), (1.401430967, 3.017877069))
        make_face(mode=Mode.SUBTRACT)
    extrude(amount=EXTRUDE1_DEPTH, both=True)

    # 7060-LEFT
    with Locations(Plane.XY.offset(165.1)):
        with Locations((0, 0)):
            Hole(F_7060_LEFT_D / 2, depth=F_7060_LEFT_DEPTH)
            with Locations((0, 0, -(F_7060_LEFT_DEPTH + F_7060_LEFT_TIP / 2))):  # 118° drill point
                Cone(0, F_7060_LEFT_D / 2, F_7060_LEFT_TIP, mode=Mode.SUBTRACT)

    # 7060-RIGHT
    with Locations(Plane(origin=(0, 0, -165.1), x_dir=(-1, 0, 0), z_dir=(0, 0, -1))):
        with Locations((0, 0)):
            Hole(F_7060_RIGHT_D / 2, depth=F_7060_RIGHT_DEPTH)
            with Locations((0, 0, -(F_7060_RIGHT_DEPTH + F_7060_RIGHT_TIP / 2))):  # 118° drill point
                Cone(0, F_7060_RIGHT_D / 2, F_7060_RIGHT_TIP, mode=Mode.SUBTRACT)


solid = part.part
